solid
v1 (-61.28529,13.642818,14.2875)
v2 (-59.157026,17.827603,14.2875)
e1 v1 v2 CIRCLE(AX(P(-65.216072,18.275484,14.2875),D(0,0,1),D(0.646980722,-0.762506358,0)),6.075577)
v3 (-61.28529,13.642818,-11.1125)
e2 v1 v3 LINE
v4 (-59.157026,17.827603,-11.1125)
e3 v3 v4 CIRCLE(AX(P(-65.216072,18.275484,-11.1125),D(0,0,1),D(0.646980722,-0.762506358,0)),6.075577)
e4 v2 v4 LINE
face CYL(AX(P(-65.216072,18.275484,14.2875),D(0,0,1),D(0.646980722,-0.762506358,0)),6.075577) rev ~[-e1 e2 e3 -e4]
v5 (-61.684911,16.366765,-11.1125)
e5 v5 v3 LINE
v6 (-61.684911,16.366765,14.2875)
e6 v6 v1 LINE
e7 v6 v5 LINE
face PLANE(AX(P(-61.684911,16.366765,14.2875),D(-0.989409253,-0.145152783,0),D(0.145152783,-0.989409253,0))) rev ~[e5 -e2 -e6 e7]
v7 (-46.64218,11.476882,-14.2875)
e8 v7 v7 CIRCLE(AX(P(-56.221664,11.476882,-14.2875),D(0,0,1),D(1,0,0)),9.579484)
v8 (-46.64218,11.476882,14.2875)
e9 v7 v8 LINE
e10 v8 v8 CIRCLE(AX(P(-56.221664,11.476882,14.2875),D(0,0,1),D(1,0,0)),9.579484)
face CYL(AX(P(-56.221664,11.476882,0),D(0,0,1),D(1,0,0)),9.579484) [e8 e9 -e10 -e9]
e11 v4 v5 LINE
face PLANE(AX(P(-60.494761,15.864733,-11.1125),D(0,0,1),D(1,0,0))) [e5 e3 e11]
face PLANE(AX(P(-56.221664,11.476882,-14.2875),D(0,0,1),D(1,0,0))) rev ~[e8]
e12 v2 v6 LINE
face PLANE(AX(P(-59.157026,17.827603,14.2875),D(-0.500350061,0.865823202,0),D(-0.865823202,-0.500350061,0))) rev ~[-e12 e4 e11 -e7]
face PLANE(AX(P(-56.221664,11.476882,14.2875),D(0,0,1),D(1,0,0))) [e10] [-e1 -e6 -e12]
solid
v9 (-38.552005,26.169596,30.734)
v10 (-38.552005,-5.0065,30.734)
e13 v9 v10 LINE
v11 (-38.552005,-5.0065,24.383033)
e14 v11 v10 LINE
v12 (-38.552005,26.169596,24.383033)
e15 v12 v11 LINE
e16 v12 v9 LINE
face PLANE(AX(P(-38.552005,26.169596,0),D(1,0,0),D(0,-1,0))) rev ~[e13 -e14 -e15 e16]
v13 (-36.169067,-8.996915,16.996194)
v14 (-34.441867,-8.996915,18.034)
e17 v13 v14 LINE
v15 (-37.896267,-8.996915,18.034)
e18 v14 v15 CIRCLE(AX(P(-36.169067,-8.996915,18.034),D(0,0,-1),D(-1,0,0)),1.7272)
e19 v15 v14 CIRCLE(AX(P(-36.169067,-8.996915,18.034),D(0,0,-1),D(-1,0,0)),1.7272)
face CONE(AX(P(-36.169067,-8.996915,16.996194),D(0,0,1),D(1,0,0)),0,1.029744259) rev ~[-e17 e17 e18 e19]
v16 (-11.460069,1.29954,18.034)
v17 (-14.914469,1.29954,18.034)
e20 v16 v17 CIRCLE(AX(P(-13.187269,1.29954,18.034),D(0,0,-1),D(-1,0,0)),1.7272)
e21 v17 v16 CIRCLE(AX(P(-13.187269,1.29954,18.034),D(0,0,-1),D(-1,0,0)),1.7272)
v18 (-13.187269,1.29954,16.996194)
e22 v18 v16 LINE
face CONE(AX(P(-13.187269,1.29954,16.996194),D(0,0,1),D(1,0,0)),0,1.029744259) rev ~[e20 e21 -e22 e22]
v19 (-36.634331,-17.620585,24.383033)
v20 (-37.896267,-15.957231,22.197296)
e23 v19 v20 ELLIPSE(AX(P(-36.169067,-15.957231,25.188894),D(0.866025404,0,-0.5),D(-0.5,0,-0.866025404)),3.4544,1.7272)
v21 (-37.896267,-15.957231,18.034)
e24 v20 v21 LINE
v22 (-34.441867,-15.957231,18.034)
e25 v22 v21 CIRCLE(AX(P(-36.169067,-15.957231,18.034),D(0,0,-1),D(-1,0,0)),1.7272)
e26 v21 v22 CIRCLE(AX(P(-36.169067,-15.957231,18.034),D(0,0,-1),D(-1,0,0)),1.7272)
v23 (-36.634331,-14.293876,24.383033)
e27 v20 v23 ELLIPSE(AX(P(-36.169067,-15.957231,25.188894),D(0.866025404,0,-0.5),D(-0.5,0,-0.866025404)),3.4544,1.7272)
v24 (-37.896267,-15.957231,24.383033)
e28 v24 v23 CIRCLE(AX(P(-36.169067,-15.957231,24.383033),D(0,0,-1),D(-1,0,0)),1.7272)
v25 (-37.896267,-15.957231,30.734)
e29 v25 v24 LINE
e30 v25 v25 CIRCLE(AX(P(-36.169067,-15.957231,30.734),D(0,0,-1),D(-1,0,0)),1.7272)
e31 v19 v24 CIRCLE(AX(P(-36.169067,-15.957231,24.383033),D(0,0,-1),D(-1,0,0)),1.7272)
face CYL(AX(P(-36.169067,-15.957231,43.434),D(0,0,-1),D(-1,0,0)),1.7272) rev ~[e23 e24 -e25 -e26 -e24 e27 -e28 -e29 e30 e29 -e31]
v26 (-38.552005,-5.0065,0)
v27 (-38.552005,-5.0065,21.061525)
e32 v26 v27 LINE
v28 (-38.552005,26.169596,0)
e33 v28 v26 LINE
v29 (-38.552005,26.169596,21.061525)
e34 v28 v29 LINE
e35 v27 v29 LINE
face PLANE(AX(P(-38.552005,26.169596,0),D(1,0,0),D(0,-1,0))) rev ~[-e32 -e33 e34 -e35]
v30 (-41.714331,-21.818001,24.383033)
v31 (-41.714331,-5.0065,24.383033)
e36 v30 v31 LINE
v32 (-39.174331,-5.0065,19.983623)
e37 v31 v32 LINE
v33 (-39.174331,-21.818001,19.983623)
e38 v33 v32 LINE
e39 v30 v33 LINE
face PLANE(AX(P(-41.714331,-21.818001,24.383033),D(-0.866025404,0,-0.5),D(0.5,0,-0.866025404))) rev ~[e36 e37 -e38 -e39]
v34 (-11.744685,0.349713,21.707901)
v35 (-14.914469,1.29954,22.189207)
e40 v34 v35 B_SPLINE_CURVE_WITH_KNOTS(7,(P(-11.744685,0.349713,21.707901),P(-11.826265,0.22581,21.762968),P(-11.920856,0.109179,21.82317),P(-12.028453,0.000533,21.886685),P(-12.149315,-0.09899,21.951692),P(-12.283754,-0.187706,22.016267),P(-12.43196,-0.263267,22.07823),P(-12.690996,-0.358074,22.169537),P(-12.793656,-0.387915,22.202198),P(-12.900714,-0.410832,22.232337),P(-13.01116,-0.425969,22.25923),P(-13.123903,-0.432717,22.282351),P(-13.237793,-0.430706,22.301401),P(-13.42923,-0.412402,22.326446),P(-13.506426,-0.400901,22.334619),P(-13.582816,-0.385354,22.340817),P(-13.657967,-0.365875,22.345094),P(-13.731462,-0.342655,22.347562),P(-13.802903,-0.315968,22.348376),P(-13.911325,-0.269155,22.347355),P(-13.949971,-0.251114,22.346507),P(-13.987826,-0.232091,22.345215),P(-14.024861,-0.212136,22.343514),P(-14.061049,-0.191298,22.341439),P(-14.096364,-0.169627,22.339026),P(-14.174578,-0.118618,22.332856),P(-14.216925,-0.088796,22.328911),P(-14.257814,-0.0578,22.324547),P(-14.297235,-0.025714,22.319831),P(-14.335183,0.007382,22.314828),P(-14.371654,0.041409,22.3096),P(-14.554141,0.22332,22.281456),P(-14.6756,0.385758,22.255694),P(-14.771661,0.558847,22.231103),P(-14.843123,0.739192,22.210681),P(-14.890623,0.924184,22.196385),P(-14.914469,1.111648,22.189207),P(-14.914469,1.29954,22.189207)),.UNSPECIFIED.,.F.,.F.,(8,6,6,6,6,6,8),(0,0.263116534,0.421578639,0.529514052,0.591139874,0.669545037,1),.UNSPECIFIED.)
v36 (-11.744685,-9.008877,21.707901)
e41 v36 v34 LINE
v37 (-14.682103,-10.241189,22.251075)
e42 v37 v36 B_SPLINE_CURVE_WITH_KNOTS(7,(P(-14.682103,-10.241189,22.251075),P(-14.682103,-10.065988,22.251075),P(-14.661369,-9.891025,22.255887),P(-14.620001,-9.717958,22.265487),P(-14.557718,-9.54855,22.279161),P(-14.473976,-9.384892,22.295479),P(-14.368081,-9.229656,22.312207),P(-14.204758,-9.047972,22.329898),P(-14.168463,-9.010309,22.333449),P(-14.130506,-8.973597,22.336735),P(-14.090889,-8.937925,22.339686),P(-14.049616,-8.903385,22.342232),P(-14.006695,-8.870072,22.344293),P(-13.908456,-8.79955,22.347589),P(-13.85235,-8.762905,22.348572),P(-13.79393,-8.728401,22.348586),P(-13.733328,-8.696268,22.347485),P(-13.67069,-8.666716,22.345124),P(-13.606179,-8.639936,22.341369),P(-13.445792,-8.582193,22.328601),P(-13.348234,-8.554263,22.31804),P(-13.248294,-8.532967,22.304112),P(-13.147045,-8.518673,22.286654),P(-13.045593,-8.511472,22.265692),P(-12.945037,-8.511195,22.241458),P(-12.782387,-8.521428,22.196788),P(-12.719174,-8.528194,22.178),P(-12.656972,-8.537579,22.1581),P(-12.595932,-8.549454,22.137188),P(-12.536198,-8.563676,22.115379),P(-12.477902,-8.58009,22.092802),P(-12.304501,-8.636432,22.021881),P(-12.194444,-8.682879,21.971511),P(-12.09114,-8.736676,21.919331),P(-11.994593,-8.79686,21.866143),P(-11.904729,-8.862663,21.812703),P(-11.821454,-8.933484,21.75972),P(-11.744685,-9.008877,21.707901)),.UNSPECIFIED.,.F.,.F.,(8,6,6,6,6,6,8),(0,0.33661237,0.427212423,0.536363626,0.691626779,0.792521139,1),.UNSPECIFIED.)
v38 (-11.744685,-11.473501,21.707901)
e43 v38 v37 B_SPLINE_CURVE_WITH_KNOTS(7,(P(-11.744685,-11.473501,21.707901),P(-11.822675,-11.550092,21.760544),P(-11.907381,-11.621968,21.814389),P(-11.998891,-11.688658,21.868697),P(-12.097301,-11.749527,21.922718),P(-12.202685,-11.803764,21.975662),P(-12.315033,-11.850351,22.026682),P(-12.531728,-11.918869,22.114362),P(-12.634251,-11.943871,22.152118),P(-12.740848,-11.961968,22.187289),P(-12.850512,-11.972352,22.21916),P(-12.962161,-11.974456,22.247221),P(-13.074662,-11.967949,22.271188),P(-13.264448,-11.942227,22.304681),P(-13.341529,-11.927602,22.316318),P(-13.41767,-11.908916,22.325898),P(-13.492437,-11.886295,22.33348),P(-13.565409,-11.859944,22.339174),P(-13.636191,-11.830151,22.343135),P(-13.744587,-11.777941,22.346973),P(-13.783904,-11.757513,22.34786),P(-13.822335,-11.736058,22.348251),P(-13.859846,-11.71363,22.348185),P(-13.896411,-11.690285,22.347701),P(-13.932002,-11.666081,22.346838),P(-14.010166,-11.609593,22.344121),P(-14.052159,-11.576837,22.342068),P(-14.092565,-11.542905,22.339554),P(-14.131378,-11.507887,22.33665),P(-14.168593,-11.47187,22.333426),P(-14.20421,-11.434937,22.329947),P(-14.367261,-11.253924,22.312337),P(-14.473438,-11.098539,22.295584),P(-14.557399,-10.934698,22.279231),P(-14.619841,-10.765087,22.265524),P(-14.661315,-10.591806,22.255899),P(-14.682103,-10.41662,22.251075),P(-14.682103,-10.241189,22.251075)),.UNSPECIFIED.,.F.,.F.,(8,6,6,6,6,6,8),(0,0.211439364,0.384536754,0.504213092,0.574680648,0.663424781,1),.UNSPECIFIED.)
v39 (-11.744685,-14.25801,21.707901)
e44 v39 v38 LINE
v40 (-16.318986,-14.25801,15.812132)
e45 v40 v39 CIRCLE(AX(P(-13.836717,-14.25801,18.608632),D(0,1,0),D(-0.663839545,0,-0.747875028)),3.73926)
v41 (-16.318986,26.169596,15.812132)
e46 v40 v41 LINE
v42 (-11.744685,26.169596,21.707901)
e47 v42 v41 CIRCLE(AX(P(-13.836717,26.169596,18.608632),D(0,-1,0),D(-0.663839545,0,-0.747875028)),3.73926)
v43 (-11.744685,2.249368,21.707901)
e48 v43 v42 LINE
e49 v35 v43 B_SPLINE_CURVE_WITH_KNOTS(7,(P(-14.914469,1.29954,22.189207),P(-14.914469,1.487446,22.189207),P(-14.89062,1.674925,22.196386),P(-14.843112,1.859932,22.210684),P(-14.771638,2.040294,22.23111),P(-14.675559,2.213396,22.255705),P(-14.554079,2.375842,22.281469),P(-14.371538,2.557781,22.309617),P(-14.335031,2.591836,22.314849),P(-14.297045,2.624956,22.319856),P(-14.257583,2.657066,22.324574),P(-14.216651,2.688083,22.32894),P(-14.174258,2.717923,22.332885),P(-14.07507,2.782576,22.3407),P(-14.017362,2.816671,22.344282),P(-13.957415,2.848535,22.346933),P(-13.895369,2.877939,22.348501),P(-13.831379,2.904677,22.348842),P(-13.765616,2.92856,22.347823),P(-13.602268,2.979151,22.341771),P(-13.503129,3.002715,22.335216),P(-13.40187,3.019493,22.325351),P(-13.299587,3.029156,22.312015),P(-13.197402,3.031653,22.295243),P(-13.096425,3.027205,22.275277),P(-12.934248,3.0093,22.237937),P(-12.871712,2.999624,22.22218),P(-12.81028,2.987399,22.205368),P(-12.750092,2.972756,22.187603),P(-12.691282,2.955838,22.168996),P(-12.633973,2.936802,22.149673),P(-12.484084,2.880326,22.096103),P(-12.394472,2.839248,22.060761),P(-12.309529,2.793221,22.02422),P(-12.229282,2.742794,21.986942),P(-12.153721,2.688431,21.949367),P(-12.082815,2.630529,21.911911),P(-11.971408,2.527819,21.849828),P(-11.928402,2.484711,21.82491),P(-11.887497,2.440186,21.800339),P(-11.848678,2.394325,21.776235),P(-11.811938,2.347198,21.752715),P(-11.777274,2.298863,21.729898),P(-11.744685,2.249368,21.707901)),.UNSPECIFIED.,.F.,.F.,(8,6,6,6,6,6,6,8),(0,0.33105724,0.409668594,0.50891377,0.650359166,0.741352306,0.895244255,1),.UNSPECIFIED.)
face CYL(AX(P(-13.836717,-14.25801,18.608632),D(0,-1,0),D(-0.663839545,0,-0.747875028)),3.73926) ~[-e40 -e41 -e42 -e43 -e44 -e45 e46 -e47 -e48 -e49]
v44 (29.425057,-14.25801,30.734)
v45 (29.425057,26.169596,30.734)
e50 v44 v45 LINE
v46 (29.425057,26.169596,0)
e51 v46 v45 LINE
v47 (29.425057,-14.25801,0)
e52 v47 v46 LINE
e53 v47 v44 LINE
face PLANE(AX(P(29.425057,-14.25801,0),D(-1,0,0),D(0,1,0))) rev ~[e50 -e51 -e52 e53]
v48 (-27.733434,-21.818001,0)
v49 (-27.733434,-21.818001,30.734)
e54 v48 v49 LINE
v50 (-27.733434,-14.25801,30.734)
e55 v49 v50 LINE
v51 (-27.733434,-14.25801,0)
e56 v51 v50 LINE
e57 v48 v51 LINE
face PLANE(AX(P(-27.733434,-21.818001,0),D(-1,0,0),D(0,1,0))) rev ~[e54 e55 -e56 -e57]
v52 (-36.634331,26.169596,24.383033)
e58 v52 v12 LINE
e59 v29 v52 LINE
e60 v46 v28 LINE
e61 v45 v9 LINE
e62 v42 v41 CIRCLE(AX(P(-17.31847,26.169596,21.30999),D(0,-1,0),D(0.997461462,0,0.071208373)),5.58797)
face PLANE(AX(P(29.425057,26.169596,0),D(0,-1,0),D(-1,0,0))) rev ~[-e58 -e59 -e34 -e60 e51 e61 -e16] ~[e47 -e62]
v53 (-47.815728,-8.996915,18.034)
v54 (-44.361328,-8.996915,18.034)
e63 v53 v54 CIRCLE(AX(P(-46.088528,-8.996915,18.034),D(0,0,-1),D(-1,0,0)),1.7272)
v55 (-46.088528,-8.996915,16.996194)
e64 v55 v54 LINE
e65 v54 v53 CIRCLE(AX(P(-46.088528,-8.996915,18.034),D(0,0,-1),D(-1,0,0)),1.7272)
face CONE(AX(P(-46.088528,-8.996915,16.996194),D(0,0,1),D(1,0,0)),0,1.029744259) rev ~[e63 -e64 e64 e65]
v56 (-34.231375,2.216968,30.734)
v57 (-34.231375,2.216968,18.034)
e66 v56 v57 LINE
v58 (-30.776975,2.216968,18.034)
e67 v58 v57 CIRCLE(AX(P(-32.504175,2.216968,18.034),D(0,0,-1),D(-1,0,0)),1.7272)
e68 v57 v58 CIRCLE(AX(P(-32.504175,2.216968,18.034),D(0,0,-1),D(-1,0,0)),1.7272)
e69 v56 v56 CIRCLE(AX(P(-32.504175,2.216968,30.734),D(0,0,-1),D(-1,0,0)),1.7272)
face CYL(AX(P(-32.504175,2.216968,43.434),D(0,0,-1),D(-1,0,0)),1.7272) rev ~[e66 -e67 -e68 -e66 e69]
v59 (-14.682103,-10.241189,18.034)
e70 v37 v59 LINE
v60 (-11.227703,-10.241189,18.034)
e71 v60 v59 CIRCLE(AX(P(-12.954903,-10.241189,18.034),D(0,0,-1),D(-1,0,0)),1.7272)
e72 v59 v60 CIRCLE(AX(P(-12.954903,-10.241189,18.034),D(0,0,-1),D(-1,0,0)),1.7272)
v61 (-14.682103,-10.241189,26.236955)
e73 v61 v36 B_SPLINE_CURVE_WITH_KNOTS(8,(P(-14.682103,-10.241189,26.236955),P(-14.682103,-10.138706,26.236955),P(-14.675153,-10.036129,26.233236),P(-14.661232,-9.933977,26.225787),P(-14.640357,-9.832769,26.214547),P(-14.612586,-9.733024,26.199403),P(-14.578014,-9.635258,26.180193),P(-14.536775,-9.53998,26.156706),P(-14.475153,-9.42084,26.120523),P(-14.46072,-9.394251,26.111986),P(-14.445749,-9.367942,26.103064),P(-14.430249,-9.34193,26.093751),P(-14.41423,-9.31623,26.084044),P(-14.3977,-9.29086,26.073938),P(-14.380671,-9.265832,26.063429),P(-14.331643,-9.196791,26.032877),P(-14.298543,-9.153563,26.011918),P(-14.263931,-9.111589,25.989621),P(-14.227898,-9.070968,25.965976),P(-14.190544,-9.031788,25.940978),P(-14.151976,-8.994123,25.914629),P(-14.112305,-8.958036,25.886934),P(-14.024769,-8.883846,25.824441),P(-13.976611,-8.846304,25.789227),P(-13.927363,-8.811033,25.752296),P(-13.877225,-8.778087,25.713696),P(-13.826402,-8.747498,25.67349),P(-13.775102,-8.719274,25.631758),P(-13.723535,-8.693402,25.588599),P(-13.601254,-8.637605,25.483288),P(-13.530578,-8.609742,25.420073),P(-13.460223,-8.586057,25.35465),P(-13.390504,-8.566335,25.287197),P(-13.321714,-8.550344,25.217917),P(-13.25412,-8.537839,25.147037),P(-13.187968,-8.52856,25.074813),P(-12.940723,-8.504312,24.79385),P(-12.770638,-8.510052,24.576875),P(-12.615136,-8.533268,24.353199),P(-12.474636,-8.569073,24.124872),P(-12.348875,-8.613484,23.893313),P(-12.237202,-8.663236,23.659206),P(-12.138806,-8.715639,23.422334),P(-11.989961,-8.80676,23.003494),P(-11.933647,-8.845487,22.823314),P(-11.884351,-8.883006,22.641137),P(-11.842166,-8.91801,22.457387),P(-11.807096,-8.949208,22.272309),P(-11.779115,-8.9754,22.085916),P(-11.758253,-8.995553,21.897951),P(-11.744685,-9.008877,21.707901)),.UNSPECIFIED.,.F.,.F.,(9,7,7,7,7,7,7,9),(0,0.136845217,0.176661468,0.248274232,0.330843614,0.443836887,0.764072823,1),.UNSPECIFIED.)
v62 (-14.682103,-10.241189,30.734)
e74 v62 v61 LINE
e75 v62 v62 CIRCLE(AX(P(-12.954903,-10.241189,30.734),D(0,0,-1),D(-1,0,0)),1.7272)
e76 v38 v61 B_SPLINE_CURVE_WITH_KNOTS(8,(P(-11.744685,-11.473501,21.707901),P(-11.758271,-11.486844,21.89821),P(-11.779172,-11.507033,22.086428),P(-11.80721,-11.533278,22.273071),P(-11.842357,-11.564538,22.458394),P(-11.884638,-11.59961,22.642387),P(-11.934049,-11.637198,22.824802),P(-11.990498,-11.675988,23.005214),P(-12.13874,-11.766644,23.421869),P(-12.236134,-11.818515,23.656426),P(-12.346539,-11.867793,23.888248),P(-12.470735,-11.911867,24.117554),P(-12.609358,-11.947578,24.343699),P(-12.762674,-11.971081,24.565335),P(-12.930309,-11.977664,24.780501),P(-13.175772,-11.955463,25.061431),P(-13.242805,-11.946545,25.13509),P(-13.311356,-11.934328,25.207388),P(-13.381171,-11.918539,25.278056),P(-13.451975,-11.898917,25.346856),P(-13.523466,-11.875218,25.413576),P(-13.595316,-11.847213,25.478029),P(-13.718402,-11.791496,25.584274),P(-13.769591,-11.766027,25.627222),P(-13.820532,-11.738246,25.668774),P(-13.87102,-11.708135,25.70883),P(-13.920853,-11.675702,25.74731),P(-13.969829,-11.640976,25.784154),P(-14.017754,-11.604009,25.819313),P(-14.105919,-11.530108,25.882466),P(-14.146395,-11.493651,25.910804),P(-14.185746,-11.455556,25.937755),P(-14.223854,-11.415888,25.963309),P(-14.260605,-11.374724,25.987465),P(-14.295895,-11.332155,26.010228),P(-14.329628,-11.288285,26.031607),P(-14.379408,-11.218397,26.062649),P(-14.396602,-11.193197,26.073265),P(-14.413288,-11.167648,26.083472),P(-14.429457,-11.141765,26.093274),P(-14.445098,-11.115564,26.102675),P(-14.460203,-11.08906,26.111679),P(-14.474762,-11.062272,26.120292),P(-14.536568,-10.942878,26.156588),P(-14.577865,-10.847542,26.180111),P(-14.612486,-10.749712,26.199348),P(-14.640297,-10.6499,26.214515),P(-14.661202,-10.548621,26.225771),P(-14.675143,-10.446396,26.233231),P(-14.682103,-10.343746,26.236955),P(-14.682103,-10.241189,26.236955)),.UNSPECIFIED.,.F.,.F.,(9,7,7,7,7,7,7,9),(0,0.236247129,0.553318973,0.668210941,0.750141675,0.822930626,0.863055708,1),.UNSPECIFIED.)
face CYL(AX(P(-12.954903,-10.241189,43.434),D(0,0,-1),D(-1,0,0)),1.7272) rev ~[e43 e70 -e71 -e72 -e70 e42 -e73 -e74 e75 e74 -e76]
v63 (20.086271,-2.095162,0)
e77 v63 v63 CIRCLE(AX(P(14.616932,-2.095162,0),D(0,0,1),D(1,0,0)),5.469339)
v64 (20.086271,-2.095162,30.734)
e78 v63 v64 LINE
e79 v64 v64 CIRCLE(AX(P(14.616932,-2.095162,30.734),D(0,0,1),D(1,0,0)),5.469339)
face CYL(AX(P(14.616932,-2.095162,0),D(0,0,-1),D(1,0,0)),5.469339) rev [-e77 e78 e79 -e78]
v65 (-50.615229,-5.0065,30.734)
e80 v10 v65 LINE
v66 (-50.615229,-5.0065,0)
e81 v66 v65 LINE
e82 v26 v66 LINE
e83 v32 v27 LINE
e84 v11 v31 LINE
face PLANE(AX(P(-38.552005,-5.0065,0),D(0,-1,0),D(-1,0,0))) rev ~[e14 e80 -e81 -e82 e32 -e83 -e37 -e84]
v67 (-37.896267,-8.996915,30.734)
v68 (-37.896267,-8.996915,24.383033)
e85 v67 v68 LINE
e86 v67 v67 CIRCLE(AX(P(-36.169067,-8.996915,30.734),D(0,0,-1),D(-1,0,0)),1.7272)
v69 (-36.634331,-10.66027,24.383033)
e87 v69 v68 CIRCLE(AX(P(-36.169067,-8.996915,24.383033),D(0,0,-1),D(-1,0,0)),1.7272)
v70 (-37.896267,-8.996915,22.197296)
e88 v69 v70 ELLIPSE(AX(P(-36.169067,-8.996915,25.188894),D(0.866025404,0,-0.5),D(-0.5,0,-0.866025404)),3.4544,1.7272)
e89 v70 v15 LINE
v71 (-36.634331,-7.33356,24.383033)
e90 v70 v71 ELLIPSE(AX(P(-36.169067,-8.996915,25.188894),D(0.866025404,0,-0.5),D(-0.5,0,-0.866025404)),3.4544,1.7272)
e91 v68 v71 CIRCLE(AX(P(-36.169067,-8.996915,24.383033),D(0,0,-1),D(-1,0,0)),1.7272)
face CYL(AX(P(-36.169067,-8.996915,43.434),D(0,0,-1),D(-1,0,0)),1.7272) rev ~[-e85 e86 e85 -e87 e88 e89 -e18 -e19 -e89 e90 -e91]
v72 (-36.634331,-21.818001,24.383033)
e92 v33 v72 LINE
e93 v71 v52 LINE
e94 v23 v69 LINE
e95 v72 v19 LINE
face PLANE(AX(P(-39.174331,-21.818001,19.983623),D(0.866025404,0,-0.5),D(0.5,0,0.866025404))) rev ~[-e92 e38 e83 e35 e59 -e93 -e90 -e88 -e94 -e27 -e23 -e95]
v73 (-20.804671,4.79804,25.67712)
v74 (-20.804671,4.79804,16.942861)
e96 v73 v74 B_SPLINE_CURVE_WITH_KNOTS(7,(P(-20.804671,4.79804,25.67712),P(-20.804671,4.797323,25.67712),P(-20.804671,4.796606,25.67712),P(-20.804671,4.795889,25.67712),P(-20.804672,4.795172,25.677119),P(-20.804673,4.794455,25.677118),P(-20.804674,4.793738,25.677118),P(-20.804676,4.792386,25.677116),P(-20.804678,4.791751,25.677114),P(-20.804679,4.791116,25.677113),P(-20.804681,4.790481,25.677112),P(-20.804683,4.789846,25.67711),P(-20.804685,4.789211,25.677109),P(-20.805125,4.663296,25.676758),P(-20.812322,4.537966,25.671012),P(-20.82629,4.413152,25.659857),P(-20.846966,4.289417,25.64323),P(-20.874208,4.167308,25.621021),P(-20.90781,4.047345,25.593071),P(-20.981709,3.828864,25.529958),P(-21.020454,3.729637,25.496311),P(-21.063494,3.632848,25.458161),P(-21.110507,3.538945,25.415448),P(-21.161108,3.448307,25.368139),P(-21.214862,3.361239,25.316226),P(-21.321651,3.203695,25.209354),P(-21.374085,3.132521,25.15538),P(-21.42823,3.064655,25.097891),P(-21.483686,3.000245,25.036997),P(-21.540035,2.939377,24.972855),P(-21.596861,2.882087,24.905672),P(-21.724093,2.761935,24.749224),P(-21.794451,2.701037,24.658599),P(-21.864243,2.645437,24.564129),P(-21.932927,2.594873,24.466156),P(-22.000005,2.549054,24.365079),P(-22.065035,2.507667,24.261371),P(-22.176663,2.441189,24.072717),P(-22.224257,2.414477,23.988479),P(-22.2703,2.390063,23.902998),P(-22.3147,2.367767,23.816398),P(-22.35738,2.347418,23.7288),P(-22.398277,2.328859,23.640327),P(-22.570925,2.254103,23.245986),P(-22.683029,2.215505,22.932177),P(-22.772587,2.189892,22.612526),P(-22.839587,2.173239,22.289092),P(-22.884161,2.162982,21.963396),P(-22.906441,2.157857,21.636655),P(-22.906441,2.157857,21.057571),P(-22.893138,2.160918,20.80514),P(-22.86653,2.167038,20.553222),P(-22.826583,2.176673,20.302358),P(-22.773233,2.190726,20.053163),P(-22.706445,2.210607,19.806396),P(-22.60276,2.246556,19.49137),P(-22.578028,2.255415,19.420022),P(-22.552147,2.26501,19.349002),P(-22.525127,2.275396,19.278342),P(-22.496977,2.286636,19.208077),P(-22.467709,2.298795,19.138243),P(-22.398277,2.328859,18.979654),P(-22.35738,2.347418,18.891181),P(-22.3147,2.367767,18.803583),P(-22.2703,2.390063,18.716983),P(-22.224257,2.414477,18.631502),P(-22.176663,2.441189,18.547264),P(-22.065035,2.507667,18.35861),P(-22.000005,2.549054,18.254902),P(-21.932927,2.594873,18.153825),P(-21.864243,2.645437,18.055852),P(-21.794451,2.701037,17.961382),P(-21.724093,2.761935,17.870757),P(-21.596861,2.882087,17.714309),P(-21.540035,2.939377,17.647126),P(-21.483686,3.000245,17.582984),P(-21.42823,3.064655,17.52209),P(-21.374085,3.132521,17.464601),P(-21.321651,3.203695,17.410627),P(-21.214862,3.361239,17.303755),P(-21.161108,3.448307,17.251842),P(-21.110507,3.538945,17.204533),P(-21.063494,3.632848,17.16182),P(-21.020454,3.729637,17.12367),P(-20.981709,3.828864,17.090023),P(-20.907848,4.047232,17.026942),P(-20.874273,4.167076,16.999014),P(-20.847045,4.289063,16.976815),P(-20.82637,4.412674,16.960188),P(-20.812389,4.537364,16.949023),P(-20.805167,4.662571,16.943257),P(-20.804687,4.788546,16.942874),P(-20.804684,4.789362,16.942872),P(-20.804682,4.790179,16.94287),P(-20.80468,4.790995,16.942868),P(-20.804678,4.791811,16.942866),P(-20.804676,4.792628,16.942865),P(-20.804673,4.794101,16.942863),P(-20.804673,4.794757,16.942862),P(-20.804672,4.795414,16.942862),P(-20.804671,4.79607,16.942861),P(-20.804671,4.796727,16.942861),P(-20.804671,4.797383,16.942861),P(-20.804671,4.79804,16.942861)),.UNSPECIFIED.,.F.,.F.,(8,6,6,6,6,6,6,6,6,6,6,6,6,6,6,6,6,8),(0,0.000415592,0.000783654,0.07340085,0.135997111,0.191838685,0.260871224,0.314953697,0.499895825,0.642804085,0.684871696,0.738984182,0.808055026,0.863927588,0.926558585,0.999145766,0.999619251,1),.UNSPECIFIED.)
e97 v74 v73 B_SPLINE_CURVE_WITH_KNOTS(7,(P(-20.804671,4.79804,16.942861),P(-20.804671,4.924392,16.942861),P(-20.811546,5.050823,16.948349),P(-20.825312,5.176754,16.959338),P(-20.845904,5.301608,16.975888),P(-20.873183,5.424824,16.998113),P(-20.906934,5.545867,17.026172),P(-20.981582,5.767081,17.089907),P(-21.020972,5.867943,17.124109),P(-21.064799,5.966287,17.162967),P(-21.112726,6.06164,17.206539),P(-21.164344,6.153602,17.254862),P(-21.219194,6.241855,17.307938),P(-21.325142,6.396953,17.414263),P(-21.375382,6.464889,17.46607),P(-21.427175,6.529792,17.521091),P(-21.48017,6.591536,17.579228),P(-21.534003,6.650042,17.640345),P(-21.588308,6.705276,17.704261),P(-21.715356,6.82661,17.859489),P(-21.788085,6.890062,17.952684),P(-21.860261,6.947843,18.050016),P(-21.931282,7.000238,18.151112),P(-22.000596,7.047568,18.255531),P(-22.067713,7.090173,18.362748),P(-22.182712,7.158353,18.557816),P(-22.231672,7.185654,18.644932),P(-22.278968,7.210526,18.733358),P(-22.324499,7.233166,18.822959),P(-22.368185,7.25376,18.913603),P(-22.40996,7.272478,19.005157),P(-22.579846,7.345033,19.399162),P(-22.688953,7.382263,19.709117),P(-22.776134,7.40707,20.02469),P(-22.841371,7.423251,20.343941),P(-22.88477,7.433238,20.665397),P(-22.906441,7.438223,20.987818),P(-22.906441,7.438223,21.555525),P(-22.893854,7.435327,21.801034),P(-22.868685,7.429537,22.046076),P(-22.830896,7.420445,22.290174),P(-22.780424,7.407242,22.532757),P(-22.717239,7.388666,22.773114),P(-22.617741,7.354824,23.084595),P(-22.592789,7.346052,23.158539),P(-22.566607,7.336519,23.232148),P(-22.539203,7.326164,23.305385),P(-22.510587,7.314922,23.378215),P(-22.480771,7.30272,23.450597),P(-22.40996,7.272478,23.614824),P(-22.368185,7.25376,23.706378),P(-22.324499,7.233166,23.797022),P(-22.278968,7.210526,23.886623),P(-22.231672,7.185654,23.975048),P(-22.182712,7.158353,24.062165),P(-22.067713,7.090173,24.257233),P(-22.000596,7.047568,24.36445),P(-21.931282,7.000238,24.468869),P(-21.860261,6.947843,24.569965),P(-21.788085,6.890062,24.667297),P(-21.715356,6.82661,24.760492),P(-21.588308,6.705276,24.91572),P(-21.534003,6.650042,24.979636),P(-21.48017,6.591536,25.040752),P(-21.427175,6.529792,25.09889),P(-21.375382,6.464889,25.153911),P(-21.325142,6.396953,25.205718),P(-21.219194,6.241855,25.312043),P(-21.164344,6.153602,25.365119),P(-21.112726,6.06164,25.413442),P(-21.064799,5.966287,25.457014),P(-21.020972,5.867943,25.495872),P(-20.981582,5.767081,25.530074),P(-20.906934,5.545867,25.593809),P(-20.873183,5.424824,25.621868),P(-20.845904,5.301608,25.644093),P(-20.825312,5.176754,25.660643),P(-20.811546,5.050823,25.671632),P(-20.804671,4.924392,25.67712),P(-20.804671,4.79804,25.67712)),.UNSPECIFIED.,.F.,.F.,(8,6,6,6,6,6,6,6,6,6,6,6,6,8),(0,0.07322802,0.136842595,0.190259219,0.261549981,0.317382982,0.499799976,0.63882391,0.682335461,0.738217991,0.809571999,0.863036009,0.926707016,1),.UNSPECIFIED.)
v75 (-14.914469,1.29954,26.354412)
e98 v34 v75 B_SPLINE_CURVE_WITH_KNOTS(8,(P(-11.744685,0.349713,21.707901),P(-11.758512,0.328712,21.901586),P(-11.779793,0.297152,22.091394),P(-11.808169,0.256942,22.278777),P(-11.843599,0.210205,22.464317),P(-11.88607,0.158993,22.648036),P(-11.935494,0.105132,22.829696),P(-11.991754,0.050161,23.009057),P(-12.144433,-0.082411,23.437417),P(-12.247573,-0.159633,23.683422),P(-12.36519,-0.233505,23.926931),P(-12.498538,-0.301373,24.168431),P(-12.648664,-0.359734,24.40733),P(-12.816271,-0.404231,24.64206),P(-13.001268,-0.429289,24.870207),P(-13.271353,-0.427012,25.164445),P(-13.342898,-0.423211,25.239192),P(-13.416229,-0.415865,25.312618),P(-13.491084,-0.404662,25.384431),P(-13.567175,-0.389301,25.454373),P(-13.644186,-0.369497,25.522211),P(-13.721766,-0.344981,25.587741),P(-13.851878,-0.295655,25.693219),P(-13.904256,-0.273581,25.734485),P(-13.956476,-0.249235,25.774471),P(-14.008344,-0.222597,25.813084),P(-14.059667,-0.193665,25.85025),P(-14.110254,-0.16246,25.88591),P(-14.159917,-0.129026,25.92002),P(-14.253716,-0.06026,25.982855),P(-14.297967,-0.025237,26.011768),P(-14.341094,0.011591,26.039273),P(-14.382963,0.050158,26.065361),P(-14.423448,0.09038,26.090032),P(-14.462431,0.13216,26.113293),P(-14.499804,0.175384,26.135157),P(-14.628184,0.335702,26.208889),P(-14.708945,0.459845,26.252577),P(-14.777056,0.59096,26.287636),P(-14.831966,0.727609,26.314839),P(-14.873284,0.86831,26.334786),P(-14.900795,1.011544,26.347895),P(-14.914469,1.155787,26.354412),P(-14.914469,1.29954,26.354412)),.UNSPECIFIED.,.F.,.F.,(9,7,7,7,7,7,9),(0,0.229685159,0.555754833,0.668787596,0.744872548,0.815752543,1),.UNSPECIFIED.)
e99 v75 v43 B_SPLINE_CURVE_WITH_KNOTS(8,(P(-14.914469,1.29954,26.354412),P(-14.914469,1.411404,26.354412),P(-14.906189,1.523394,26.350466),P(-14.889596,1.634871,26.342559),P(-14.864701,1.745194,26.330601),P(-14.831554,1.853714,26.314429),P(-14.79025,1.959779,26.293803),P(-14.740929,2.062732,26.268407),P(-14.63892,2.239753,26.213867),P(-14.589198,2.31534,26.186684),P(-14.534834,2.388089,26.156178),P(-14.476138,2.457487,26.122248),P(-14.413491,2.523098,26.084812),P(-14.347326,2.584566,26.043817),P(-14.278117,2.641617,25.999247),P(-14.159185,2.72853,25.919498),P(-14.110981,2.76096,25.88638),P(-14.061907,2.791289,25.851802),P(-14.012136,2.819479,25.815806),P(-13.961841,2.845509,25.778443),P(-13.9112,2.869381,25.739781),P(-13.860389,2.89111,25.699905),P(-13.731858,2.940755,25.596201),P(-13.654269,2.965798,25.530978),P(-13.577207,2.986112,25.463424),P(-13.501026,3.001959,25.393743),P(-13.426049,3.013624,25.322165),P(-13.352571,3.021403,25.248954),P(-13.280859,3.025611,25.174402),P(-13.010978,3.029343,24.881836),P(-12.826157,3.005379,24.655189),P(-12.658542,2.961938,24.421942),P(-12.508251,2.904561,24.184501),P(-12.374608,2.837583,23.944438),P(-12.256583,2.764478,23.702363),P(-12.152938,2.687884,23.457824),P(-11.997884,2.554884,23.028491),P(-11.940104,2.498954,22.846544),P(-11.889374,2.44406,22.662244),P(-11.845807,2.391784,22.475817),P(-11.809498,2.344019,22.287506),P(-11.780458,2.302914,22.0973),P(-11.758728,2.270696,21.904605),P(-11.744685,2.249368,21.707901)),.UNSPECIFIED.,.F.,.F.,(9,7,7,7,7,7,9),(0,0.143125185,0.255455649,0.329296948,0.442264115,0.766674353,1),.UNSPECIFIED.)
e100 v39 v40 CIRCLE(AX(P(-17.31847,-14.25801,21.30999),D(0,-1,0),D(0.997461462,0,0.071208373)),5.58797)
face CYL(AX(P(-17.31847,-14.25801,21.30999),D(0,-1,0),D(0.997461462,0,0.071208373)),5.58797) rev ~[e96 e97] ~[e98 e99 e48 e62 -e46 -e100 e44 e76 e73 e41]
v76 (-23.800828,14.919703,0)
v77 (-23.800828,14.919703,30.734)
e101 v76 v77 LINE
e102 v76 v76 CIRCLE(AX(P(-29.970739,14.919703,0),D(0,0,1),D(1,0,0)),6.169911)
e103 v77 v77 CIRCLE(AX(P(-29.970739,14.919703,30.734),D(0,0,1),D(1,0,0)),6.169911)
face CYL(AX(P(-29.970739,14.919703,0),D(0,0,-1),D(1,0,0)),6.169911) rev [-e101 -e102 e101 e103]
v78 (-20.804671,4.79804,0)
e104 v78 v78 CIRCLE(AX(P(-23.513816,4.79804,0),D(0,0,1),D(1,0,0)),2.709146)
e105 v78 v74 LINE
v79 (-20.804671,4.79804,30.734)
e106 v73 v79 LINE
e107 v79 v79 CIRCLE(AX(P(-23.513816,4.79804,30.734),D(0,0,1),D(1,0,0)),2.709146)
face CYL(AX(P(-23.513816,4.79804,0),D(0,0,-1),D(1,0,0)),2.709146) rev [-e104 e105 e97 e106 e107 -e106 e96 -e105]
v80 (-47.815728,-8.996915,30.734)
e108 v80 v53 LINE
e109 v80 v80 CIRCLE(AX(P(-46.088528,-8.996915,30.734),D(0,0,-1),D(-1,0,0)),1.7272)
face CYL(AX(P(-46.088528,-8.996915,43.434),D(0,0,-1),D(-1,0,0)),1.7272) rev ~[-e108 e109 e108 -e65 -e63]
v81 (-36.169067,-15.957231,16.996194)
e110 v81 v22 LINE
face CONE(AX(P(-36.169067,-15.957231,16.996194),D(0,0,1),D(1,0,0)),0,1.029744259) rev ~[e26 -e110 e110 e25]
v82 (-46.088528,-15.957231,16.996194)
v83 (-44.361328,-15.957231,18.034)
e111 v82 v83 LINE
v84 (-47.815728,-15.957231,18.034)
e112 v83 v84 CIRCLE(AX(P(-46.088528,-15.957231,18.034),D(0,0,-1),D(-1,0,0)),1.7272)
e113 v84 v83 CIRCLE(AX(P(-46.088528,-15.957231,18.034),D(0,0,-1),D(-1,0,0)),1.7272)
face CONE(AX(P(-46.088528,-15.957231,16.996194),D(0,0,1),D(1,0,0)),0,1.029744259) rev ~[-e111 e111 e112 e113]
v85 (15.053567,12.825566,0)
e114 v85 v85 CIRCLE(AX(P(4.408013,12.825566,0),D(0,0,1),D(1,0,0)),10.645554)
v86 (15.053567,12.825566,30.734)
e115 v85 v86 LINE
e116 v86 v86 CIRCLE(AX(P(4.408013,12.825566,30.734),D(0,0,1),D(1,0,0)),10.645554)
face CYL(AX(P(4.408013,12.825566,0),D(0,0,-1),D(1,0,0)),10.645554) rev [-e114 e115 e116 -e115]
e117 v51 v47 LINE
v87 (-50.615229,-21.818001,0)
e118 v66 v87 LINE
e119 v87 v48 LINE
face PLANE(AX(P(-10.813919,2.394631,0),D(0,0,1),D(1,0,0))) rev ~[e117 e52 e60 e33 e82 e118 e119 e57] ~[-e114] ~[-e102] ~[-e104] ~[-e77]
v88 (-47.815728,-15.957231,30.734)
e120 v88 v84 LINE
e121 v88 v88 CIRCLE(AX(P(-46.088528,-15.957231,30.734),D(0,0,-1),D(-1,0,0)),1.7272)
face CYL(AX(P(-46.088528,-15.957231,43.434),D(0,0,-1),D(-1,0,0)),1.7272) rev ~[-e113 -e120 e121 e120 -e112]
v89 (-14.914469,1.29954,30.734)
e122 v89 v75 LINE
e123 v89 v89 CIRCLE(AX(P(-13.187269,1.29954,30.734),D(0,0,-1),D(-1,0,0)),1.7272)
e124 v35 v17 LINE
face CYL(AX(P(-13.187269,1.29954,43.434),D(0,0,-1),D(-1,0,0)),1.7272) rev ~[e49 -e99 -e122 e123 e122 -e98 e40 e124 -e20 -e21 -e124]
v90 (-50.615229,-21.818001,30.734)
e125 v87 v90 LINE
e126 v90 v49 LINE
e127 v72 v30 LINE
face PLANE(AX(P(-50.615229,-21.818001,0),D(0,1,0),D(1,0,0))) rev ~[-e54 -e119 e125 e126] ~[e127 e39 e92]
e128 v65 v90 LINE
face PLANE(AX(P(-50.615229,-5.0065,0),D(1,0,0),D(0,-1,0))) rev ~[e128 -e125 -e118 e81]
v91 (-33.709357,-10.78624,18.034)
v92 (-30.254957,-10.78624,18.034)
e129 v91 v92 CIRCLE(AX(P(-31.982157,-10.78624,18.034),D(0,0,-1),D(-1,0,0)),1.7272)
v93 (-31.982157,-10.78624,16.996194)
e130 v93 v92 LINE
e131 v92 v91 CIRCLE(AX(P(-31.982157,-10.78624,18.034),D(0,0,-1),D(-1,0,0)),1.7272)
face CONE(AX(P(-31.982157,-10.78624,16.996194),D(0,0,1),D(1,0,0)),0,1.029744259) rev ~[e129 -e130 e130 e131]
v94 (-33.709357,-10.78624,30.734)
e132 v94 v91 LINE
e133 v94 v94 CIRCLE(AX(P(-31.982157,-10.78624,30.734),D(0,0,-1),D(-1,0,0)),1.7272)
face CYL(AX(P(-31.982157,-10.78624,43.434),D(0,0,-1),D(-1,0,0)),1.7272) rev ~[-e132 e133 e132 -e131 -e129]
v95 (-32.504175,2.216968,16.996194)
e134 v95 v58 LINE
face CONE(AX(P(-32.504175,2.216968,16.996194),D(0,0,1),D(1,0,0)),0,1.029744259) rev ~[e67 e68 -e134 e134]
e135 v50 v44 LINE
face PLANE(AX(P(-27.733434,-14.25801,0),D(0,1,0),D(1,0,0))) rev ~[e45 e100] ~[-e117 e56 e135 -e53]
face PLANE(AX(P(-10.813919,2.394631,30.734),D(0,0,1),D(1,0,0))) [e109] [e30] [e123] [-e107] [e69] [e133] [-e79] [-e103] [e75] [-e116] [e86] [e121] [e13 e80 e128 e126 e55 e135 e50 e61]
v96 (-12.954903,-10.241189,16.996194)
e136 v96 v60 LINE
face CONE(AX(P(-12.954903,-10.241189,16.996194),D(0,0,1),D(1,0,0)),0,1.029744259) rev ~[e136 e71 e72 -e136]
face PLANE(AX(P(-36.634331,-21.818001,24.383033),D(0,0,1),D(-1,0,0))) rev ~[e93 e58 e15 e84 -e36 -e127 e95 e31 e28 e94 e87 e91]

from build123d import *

# Parameters (mm, degrees)
F0_R      = 5.4693390269
F0_R_2    = 2.7091456529
F0_R_3    = 6.1699110027
F0_R_4    = 10.6455543831
F1_DEPTH  = 30.734
F3_DEPTH  = 47.9885970632
F5_DEPTH  = 40.4286065528
F6_R      = 9.5794837086
F7_DEPTH  = 14.2875
F9_DEPTH  = 25.4
F11_D     = 3.4544
F11_DEPTH = 12.7
F11_TIP   = 1.0378064612


with BuildPart() as f1:
    # F0 (on Top) → F1 (new body)
    with BuildSketch(Plane.XY):
        Polygon((29.4250566512, 26.1695962399), (-38.552004844, 26.1695962399), (-38.552004844, -5.0064995885), (-50.6152287126, -5.0064995885), (-50.6152287126, -21.8180008233), (-27.7334339917, -21.8180008233), (-27.7334339917, -14.2580103129), (29.4250566512, -14.2580103129), align=None)
        with Locations((14.6169317886, -2.0951619372)):
            Circle(F0_R, mode=Mode.SUBTRACT)
        with Locations((-23.5138162971, 4.798039794)):
            Circle(F0_R_2, mode=Mode.SUBTRACT)
        with Locations((-29.9707390368, 14.919702895)):
            Circle(F0_R_3, mode=Mode.SUBTRACT)
        with Locations((4.4080126099, 12.825566344)):
            Circle(F0_R_4, mode=Mode.SUBTRACT)
    extrude(amount=F1_DEPTH)

    # F2 (on face) → F3 (cut, through all)
    with BuildSketch(Plane.XZ.offset(21.8180008233)):
        Polygon((-39.1743313521, 19.9836234878), (-36.6343313521, 24.383032539), (-41.7143313521, 24.383032539), align=None)
    extrude(amount=-F3_DEPTH, mode=Mode.SUBTRACT)

    # F4 (on face) → F5 (cut, through all)
    with BuildSketch(Plane.XZ.offset(14.2580103129)):
        with BuildLine():
            ThreePointArc((-16.3189860749, 15.8121321819), (-16.7910518212, 20.9007865676), (-11.7446851809, 21.7079007223))
            ThreePointArc((-11.7446851809, 21.7079007223), (-21.7334437692, 24.7353990954), (-16.3189860749, 15.8121321819))
        make_face()
    extrude(amount=-F5_DEPTH, mode=Mode.SUBTRACT)

    # F11
    with Locations(Plane.XY.offset(30.734)):
        with Locations((-46.0885278881, -8.9969150722), (-46.0885278881, -15.957230702), (-36.1690670252, -8.9969150722), (-36.1690670252, -15.957230702), (-31.9821573794, -10.7862399891), (-32.5041748583, 2.2169682197), (-13.1872687489, 1.299540163), (-12.9549028352, -10.2411890402)):
            Hole(F11_D / 2, depth=F11_DEPTH)
            with Locations((0, 0, -(F11_DEPTH + F11_TIP / 2))):  # 118° drill point
                Cone(0, F11_D / 2, F11_TIP, mode=Mode.SUBTRACT)


with BuildPart() as f7:
    # F6 (on Top) → F7 (new body, symmetric)
    with BuildSketch(Plane.XY):
        with Locations((-56.2216639519, 11.4768818021)):
            Circle(F6_R)
    extrude(amount=F7_DEPTH, both=True)

    # F8 (on face) → F9 (cut)
    with BuildSketch(Plane.XY.offset(14.2875)):
        with BuildLine():
            Line((-61.684911138, 16.3667645872), (-61.2852904338, 13.6428180285))
            ThreePointArc((-61.2852904338, 13.6428180285), (-59.800605963, 15.5213294517), (-59.1570255087, 17.8276029272))
            Line((-59.1570255087, 17.8276029272), (-61.684911138, 16.3667645872))
        make_face()
    extrude(amount=-F9_DEPTH, mode=Mode.SUBTRACT)


solid = Compound([f1.part, f7.part])
